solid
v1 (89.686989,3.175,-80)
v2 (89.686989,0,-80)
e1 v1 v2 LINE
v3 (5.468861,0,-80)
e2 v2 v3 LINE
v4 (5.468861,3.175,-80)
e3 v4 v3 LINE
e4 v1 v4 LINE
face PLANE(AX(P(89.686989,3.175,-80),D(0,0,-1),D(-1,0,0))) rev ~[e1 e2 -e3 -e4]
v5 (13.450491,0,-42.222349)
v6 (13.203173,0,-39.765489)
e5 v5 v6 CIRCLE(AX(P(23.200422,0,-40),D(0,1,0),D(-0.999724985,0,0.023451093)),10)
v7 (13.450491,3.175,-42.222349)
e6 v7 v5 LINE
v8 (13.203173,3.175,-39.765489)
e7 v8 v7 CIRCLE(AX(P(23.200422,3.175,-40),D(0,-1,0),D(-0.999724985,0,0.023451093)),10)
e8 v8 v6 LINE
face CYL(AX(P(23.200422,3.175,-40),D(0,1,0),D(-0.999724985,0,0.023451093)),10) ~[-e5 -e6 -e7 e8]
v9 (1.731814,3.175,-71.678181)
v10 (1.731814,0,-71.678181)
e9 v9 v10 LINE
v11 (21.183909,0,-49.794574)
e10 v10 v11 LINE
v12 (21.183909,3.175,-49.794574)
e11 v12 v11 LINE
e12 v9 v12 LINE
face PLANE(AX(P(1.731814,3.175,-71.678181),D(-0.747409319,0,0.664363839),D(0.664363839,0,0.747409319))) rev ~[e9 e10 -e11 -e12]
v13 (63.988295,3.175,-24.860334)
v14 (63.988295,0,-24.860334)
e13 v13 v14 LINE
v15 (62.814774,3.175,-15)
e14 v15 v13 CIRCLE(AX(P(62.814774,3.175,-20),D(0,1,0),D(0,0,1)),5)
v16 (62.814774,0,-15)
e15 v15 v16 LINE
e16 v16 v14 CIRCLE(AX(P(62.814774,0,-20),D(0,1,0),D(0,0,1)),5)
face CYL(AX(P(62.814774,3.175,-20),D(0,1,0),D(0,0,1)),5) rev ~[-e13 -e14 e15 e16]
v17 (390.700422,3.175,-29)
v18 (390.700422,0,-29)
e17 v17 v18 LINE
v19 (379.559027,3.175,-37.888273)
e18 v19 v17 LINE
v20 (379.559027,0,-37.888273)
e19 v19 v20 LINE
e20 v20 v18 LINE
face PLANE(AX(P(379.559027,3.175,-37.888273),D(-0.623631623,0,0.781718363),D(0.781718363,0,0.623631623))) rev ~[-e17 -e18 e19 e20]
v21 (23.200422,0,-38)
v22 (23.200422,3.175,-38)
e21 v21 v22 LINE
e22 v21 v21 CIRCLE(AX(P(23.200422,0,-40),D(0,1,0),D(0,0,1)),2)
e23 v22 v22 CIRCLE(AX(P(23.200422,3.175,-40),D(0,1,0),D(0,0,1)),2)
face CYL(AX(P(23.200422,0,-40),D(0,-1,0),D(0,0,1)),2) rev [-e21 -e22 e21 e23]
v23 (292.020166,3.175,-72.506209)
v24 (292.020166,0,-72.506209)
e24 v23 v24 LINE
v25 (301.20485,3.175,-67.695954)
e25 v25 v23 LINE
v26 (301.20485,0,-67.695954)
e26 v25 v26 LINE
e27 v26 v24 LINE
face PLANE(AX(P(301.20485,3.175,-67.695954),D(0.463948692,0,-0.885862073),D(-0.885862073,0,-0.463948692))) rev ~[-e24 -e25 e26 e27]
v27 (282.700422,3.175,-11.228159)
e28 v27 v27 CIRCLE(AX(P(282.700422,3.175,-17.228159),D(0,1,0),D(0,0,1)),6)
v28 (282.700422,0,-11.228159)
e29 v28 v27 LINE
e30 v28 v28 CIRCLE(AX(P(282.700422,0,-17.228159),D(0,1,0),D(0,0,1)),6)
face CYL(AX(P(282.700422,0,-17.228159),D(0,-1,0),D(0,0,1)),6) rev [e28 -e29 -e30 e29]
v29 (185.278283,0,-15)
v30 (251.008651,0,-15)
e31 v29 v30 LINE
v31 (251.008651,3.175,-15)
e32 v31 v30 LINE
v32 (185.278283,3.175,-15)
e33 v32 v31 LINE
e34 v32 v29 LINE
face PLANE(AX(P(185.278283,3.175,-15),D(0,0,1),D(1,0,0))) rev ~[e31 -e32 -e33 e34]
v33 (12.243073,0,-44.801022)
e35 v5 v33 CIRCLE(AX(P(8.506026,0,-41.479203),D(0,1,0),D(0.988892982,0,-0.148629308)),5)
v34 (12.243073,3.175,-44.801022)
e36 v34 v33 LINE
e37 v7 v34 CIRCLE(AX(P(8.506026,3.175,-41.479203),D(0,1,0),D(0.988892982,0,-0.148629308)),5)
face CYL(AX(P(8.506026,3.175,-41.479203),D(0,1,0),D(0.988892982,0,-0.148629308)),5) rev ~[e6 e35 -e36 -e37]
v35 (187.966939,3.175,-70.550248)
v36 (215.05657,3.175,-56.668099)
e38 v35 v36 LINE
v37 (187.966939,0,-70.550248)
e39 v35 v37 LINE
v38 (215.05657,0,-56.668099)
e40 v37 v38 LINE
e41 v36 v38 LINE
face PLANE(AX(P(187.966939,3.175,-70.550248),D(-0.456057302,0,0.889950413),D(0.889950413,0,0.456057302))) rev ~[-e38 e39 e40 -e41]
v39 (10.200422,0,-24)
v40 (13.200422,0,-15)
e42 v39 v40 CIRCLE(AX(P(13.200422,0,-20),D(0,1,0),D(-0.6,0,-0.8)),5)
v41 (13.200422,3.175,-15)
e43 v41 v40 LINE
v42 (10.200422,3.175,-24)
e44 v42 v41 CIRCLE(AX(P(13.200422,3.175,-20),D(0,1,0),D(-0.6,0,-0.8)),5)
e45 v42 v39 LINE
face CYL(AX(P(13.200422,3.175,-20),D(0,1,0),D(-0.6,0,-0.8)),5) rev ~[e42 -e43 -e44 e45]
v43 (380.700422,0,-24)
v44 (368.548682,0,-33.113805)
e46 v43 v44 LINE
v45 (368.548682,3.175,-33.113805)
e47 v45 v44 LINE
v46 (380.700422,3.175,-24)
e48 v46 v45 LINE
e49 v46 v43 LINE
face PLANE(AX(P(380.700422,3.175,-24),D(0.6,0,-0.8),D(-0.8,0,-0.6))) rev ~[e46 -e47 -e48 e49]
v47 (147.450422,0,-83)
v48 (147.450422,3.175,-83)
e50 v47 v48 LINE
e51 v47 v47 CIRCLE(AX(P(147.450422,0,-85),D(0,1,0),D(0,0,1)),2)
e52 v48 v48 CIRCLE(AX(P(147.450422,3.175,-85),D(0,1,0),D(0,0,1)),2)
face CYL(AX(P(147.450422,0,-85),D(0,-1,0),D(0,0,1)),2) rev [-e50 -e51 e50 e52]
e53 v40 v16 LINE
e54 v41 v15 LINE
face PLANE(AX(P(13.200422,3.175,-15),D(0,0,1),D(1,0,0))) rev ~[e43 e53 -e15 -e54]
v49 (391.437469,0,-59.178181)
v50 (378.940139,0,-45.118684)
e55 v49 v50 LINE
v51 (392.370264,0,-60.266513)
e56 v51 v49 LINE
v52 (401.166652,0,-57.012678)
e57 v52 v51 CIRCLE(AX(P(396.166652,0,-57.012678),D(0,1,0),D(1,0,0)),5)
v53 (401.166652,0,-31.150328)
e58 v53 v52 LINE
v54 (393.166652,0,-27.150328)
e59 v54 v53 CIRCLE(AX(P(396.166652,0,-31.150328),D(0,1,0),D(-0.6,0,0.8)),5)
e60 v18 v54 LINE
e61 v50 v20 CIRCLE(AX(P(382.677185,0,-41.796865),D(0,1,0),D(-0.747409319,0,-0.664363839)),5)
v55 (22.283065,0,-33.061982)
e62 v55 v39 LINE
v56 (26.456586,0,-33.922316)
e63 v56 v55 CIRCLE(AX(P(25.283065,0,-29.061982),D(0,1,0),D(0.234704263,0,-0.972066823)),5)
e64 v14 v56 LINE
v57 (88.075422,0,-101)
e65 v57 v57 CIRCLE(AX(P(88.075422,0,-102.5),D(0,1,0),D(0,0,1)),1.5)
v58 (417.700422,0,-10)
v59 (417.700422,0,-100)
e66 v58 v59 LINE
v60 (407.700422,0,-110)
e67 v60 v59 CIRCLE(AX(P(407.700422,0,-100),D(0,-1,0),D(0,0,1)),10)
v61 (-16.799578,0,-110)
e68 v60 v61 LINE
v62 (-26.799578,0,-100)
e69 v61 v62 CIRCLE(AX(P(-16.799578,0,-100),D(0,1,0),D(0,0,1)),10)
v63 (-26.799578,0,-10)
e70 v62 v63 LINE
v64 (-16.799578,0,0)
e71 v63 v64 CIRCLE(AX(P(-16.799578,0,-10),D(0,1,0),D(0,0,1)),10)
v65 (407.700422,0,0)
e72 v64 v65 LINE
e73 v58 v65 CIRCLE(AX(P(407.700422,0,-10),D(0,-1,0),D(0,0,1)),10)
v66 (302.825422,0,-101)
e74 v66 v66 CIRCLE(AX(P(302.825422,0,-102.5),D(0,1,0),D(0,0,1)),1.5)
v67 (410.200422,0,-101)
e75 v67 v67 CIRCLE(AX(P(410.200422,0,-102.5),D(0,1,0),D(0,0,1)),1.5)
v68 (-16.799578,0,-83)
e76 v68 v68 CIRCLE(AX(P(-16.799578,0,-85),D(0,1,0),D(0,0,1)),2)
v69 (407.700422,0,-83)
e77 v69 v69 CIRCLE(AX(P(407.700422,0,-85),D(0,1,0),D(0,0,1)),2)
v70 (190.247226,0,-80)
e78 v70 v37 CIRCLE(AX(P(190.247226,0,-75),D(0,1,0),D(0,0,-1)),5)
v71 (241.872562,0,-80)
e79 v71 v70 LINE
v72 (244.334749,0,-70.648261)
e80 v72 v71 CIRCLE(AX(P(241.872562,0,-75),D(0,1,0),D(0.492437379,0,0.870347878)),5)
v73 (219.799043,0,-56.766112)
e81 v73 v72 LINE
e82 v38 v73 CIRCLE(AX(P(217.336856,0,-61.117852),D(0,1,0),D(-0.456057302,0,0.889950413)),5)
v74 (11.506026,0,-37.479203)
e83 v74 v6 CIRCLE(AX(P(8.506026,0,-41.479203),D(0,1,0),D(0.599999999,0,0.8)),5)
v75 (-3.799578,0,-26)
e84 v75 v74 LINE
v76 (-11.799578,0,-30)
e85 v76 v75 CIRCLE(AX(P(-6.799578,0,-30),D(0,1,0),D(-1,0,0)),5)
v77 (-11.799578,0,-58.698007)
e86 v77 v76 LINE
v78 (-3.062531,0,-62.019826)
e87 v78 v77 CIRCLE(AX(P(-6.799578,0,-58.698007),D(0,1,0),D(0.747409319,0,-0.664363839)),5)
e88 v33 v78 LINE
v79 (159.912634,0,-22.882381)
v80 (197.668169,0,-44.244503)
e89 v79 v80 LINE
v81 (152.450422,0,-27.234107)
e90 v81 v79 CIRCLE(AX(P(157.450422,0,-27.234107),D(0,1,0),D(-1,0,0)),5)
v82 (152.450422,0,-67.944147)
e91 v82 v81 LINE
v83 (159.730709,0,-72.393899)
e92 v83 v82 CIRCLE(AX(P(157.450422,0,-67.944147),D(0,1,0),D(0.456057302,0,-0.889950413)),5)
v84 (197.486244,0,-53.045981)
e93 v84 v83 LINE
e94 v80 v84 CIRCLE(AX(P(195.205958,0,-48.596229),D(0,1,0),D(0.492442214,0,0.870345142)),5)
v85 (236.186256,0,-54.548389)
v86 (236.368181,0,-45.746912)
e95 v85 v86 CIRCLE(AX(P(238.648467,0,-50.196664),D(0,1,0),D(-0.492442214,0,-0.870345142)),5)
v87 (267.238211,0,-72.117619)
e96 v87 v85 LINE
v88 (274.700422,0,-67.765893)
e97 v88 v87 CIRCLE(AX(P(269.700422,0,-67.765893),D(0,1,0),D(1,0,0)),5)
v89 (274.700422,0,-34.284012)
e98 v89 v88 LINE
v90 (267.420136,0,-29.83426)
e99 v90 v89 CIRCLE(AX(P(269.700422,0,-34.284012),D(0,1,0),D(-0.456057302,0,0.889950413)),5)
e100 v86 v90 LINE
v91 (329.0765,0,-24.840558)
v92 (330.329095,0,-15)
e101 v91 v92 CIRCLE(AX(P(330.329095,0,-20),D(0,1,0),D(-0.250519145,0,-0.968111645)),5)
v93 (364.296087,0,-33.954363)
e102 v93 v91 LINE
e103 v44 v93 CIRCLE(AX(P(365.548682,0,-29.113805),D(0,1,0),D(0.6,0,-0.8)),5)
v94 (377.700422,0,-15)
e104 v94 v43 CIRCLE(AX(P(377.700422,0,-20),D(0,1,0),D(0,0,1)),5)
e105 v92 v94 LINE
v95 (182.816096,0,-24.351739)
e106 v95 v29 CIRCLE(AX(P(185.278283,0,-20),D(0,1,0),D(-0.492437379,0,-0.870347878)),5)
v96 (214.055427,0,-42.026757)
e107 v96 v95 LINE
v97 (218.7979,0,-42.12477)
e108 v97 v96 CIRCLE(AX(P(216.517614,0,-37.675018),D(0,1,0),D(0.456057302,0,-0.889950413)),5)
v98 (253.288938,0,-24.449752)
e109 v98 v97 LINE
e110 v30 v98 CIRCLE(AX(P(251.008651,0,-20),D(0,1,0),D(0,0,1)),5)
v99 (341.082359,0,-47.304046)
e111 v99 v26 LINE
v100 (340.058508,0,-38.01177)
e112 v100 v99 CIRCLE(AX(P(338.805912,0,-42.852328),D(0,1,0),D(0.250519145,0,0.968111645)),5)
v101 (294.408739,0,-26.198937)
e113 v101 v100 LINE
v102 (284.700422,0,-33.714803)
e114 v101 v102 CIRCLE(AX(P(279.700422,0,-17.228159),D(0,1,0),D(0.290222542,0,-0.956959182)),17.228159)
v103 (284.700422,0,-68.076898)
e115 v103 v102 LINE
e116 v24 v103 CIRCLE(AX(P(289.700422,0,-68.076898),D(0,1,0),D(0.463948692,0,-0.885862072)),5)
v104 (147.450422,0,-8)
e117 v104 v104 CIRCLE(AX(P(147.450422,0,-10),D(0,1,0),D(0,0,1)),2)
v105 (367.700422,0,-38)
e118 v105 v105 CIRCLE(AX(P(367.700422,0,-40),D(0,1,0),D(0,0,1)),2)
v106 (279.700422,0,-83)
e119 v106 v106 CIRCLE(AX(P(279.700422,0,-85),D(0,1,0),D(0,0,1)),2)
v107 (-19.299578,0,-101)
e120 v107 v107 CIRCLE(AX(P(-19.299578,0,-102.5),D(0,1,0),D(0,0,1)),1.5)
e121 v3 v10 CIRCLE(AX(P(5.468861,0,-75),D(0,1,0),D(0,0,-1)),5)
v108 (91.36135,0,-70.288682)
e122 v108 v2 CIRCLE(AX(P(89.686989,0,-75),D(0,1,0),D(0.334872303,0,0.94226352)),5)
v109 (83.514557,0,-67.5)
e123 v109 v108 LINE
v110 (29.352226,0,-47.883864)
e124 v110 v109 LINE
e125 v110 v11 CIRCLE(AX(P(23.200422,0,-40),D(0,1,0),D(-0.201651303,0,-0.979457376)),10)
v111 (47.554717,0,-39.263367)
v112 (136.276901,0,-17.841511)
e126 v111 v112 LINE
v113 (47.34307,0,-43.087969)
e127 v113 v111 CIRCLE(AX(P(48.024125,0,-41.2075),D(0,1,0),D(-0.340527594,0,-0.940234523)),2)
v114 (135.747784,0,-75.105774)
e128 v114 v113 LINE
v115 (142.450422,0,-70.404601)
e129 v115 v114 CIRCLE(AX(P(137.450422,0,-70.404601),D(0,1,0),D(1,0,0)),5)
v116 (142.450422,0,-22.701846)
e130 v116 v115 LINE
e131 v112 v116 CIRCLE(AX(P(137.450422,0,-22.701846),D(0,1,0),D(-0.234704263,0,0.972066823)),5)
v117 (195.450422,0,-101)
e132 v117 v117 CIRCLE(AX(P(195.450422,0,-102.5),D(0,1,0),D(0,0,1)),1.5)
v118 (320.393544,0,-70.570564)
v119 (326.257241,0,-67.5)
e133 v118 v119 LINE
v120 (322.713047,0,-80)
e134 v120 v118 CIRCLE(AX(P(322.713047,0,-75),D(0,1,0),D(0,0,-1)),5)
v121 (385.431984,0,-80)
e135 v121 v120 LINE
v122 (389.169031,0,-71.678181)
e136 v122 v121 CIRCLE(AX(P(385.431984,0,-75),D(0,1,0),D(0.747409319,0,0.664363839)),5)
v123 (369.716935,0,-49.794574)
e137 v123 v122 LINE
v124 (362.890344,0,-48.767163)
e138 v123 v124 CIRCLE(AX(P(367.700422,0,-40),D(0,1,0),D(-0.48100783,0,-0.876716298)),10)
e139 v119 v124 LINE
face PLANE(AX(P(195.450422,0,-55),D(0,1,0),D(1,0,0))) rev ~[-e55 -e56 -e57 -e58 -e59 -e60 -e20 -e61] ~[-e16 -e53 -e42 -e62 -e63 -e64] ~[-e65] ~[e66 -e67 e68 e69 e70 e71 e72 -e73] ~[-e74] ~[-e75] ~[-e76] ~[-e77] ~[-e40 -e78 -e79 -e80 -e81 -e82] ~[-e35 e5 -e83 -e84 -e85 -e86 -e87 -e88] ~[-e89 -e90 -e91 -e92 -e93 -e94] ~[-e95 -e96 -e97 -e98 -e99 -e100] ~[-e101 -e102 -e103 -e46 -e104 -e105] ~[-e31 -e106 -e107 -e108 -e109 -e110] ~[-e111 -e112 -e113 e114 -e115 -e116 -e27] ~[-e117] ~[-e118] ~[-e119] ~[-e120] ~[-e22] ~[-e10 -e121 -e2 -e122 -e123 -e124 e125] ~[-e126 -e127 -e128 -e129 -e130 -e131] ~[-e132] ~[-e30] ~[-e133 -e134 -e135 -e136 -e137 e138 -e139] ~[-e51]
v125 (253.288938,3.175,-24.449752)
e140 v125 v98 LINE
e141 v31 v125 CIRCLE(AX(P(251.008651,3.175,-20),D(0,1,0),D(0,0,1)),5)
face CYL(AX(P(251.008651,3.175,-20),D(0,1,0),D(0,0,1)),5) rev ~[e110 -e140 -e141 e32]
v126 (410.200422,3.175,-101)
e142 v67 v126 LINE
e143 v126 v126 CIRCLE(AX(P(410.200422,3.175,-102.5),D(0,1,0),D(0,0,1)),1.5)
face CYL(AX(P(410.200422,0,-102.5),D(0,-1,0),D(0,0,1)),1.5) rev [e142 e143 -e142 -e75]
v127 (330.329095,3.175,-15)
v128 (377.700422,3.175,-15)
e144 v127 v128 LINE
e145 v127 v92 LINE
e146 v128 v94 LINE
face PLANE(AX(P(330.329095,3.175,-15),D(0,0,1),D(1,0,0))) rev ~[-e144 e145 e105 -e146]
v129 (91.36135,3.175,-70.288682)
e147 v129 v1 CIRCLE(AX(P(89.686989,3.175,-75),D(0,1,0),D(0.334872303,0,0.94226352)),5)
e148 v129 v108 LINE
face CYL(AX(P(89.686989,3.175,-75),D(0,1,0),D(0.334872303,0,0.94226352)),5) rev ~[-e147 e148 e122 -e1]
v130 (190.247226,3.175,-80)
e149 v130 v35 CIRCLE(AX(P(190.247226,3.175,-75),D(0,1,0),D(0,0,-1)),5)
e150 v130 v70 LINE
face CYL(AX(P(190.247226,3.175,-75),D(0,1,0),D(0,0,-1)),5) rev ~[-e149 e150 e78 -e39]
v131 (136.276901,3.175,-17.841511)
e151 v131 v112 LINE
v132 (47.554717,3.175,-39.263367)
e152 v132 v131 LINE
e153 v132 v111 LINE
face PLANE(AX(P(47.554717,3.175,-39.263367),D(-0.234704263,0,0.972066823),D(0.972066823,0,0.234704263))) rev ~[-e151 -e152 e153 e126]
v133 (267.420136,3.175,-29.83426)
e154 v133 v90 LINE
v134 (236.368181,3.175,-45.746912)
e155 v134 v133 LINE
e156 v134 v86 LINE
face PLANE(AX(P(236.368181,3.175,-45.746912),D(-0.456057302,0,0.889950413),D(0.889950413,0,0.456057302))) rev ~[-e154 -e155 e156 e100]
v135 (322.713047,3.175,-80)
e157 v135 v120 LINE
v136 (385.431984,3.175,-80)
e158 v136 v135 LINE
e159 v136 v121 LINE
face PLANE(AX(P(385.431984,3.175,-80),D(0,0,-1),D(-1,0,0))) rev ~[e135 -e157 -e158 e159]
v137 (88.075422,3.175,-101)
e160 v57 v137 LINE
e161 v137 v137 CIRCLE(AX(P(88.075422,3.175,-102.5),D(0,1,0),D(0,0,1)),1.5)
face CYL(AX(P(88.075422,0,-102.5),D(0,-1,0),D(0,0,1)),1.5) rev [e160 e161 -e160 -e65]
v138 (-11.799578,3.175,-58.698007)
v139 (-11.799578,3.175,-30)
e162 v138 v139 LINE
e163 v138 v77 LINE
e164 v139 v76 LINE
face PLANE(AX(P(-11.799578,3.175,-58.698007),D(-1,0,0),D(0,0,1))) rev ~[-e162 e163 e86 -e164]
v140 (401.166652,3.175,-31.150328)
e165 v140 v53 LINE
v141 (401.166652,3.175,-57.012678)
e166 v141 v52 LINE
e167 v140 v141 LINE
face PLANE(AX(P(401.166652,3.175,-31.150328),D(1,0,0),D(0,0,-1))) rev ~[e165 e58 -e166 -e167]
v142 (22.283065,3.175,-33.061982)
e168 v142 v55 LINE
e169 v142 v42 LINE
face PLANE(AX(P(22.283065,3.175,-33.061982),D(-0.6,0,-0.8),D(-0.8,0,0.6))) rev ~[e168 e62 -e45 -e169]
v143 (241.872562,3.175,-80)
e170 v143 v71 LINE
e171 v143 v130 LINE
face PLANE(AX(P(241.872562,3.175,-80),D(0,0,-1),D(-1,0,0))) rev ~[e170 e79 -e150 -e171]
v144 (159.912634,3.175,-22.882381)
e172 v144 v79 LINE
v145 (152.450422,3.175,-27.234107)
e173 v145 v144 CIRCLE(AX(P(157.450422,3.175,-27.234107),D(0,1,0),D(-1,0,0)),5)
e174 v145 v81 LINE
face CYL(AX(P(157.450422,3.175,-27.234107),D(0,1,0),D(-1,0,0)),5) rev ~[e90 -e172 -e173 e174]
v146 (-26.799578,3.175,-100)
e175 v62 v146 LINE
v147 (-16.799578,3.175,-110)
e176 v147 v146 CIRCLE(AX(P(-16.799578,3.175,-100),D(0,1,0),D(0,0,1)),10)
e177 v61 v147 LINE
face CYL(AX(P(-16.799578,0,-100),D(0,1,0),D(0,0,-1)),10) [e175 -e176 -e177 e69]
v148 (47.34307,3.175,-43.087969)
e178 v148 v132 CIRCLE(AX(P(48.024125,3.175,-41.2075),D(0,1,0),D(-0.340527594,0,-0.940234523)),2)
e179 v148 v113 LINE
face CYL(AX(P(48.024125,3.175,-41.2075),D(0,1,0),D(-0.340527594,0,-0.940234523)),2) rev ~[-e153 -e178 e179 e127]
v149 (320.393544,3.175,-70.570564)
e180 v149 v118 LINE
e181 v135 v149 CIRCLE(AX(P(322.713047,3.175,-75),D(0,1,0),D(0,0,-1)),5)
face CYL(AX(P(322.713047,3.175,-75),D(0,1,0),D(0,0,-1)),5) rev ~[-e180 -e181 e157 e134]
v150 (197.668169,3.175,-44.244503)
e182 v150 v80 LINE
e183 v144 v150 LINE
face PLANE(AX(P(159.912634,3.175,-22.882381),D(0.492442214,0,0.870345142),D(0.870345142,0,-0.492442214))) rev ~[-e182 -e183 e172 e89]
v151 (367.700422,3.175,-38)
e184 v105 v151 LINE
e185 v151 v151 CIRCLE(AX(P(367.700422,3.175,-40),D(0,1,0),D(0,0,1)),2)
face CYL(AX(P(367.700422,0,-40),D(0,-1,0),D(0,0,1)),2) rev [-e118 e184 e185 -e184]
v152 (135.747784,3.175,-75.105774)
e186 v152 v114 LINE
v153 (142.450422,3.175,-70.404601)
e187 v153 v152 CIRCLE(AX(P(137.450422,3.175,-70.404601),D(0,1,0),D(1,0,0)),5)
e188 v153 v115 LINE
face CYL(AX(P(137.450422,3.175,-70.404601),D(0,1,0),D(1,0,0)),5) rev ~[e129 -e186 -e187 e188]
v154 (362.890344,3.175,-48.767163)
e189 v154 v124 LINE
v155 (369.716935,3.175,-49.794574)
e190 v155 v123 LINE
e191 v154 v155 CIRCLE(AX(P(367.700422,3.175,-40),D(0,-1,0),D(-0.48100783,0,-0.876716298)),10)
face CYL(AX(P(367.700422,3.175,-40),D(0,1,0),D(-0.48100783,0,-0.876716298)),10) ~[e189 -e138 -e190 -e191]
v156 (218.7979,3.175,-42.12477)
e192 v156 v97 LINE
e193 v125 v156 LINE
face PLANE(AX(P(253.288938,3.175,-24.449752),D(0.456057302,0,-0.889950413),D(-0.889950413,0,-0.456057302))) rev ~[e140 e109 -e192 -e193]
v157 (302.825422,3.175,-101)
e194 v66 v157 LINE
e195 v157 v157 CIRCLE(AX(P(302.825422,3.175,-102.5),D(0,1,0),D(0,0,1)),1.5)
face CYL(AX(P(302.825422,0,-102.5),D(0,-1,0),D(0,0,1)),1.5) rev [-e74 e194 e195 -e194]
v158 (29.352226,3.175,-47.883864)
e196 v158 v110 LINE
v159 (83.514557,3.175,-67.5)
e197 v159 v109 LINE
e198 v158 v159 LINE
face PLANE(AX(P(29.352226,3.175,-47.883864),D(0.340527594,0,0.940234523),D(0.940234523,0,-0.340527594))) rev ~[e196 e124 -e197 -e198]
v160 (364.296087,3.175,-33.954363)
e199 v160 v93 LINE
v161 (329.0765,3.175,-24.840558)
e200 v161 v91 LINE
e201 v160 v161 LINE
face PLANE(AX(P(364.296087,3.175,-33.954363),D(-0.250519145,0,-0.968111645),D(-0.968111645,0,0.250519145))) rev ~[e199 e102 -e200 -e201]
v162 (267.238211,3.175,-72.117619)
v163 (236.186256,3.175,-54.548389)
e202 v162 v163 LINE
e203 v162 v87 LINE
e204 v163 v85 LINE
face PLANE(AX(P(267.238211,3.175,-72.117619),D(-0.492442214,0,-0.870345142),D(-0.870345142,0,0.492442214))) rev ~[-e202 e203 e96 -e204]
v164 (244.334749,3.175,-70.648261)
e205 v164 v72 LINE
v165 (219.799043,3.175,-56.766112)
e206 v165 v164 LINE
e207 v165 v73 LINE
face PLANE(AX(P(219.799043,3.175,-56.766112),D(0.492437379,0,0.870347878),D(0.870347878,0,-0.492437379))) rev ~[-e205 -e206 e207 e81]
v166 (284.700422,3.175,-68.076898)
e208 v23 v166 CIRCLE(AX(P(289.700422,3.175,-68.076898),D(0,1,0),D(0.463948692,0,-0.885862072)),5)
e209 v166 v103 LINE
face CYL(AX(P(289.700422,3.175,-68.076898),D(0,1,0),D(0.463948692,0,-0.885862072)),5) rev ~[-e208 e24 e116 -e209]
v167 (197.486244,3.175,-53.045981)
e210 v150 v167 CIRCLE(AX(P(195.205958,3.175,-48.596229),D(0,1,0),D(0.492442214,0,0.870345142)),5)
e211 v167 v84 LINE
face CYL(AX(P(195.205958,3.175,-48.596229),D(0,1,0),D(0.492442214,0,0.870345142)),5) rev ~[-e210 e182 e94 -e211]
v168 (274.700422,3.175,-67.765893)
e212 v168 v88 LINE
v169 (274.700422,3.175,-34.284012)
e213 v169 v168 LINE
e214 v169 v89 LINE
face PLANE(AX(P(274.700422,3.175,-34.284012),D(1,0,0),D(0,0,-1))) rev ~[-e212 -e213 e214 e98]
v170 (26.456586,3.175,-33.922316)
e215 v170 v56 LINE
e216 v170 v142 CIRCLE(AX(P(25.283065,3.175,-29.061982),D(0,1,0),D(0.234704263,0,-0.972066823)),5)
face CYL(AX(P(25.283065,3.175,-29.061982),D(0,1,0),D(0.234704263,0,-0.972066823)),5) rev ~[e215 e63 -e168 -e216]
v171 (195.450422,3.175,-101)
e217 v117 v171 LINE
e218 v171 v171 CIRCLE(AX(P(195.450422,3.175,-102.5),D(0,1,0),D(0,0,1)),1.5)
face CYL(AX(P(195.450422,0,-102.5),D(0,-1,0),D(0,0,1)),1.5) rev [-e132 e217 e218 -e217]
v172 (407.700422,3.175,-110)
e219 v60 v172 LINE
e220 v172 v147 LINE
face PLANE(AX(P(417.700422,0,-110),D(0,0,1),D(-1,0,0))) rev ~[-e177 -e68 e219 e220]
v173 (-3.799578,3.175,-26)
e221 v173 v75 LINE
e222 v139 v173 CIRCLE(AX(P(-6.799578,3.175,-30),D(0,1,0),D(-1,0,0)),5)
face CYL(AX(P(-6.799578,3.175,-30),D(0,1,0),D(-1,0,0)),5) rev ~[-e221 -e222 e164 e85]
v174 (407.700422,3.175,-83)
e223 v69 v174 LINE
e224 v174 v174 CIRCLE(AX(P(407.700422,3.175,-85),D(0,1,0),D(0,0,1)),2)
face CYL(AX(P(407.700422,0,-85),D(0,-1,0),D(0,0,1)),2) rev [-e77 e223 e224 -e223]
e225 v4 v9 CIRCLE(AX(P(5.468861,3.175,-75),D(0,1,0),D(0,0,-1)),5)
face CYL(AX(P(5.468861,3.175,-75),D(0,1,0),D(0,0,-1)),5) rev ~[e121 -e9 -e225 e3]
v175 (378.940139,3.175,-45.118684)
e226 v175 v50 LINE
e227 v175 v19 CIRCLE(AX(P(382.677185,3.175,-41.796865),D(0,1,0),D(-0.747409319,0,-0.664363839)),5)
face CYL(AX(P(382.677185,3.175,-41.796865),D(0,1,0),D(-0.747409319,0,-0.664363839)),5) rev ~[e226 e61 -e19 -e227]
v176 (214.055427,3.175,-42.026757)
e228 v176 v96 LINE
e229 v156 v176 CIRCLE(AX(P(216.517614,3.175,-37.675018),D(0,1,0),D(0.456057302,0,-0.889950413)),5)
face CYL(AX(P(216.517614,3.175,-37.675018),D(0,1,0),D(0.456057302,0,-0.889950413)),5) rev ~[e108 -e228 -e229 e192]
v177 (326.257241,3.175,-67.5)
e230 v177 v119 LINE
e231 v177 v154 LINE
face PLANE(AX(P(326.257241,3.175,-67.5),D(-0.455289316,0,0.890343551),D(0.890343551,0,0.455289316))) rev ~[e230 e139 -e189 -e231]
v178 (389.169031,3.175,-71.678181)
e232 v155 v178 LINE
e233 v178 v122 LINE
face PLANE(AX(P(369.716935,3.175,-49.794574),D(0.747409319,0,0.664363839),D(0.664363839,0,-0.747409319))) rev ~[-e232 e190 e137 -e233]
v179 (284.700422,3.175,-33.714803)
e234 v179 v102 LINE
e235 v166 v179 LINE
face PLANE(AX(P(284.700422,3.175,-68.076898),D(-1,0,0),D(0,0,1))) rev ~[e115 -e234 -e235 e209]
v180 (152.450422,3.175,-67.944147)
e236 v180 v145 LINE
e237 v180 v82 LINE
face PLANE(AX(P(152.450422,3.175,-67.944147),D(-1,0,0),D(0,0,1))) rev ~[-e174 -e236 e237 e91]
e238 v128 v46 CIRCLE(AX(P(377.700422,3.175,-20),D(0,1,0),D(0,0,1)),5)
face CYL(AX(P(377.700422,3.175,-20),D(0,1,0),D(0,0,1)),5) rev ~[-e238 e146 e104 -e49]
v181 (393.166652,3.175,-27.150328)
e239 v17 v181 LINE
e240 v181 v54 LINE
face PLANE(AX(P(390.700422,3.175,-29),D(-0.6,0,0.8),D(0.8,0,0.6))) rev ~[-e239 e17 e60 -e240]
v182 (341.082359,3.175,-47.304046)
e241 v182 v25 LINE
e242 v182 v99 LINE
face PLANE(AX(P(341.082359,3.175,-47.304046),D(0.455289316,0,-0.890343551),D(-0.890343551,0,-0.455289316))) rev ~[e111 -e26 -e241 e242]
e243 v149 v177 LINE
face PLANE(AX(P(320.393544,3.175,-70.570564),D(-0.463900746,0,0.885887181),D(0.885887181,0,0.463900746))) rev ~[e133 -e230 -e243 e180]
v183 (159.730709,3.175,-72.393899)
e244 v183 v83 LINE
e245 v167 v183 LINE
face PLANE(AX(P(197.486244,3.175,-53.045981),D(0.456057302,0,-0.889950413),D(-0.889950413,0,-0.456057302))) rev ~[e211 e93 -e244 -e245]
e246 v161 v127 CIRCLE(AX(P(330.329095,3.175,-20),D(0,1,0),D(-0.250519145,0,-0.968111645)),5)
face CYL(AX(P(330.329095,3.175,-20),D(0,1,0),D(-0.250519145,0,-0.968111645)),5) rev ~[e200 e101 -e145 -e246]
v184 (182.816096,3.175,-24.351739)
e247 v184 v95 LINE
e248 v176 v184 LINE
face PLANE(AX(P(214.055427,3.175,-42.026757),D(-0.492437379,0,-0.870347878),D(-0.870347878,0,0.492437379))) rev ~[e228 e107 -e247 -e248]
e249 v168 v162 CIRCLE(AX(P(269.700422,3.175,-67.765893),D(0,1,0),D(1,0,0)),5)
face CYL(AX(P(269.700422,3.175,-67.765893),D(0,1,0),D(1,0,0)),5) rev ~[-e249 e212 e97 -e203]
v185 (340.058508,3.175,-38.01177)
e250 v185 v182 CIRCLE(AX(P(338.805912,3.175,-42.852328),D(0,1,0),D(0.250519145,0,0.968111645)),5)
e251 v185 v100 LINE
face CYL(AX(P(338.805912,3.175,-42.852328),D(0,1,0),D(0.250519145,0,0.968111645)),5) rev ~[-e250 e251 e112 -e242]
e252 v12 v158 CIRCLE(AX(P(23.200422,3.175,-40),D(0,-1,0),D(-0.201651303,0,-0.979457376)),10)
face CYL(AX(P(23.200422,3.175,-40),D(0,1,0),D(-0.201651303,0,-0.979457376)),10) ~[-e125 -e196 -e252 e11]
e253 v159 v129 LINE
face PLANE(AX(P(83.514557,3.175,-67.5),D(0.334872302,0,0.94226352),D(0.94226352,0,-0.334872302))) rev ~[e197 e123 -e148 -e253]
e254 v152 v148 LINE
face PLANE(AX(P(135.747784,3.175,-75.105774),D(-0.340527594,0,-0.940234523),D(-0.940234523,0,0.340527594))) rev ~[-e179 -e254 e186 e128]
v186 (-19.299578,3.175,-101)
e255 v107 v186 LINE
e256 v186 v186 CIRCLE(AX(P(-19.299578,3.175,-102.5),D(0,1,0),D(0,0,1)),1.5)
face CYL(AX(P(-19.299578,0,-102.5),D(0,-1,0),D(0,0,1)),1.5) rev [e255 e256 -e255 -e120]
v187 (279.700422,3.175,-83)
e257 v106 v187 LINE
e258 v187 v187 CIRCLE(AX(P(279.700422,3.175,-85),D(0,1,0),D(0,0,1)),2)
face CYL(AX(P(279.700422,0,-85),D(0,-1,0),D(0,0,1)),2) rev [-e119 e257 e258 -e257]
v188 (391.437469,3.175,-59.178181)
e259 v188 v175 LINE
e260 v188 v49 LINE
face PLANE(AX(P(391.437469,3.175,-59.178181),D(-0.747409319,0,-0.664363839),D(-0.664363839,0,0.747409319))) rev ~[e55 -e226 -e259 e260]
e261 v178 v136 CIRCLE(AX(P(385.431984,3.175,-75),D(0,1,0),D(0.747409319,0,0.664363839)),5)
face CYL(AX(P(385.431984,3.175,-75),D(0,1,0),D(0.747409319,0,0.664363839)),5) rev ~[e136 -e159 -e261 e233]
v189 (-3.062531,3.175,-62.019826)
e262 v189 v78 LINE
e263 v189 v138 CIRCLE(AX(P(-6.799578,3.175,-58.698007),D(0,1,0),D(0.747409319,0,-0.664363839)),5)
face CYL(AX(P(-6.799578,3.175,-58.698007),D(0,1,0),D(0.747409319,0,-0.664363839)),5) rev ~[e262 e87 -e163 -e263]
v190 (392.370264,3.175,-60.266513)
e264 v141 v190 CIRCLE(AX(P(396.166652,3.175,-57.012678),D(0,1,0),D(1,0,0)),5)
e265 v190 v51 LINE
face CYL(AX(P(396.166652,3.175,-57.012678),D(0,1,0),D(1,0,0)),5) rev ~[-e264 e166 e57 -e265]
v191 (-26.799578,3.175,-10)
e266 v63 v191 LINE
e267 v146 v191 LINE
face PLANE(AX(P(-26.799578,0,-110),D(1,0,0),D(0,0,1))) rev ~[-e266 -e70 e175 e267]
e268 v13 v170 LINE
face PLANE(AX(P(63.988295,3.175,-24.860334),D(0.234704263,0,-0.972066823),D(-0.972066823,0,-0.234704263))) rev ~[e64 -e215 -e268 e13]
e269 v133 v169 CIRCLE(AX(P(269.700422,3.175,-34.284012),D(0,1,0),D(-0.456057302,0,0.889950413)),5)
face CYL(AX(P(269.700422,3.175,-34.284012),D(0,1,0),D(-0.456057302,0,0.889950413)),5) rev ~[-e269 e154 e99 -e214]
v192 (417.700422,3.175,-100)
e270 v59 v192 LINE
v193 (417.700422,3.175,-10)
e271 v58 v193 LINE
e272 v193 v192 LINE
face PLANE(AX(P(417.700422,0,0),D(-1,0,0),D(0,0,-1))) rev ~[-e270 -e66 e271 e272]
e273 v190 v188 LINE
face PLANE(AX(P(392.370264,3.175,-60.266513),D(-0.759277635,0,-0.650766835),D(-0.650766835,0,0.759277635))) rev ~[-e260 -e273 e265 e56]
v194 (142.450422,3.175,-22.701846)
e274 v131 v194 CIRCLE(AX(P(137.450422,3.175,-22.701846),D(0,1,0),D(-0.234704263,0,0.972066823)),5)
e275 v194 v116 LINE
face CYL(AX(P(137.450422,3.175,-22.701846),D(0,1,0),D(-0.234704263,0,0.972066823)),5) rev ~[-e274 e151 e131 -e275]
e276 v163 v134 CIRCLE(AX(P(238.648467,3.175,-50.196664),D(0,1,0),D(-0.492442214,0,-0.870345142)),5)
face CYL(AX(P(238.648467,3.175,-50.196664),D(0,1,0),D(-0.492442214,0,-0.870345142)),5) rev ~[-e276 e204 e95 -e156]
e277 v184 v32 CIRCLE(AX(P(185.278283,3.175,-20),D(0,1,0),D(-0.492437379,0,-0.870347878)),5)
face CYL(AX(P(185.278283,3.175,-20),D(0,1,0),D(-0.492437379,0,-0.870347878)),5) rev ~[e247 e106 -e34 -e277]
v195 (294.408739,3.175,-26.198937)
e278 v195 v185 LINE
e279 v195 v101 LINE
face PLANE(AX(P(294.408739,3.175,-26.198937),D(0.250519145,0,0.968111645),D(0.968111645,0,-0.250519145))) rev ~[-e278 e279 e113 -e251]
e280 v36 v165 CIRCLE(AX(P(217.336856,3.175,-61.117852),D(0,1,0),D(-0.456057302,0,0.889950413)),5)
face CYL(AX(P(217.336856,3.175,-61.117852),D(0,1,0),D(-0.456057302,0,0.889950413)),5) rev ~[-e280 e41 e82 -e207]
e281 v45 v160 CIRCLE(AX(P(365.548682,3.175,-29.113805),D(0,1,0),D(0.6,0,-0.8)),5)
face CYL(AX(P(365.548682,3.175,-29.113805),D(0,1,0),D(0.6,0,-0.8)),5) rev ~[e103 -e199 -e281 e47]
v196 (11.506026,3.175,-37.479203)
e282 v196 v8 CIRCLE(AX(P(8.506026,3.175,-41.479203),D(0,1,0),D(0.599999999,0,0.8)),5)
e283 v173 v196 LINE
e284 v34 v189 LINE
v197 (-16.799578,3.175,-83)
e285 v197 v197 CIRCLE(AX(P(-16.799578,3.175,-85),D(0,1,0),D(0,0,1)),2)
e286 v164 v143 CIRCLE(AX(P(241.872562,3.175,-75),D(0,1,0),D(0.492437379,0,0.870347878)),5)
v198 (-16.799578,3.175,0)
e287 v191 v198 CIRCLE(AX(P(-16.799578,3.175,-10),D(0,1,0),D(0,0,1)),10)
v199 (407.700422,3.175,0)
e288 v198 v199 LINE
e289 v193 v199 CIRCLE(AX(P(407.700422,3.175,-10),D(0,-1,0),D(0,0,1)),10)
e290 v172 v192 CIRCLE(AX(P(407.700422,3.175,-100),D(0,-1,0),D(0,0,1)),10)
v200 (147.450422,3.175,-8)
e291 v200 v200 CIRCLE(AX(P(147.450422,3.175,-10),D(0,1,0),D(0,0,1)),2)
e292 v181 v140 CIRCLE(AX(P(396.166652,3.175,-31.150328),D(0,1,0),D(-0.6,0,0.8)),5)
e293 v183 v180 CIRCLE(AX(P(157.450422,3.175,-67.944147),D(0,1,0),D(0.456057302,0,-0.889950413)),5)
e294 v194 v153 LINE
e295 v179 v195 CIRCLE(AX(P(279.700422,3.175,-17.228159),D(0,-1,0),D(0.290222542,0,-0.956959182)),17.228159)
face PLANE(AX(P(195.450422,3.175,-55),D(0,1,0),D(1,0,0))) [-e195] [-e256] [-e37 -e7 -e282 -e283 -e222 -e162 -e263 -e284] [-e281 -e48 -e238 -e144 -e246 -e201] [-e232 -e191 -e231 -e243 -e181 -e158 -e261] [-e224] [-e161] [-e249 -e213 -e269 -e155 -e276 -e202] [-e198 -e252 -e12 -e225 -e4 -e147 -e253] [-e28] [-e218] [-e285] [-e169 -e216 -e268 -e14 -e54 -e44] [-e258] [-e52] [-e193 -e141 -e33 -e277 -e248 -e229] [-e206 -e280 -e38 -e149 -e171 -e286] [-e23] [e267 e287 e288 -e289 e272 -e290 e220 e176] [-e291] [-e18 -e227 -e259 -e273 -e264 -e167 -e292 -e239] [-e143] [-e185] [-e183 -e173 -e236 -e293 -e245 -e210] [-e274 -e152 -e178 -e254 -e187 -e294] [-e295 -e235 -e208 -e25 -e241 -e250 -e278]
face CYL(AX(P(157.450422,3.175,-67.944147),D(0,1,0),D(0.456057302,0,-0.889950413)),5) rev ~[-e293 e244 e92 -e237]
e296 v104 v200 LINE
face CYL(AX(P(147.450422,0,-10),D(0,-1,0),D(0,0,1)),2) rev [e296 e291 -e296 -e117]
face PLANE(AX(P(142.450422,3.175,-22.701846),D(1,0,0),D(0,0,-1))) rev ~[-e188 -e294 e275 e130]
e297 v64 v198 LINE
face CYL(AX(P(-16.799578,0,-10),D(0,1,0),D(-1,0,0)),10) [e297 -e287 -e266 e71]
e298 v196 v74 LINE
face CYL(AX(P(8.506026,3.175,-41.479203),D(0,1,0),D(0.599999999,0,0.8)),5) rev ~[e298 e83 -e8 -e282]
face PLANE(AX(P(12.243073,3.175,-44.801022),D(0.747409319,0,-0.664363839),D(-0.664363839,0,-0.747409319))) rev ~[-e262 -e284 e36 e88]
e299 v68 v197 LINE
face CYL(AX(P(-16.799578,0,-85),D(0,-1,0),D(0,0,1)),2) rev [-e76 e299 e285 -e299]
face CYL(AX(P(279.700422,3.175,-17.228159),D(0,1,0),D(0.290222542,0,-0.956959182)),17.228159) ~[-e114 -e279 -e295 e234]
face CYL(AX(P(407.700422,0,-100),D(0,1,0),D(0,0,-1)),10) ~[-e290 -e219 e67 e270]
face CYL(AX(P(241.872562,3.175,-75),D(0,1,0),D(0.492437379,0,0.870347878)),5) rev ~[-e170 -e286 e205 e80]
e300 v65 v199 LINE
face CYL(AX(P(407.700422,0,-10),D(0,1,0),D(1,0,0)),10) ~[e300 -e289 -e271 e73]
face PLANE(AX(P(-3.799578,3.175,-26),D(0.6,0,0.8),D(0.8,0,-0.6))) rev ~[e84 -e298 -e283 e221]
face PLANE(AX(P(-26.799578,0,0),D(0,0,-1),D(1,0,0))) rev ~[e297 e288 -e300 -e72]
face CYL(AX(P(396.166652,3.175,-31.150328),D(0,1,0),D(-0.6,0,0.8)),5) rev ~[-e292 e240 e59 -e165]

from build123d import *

# Parameters (mm, degrees)
SKETCH1_R           = 2
SKETCH1_R_2         = 6
SKETCH1_R_3         = 1.5
BOSS_EXTRUDE1_DEPTH = 3.175
FILLET1_R           = 10
CUT_EXTRUDE1_DEPTH  = 10


with BuildPart() as part:
    # Sketch1 → Boss-Extrude1 (new body)
    with BuildSketch(Plane(origin=(0, 0, 0), x_dir=(1, 0, 0), z_dir=(0, 1, 0))):
        Polygon((417.700422465, 110), (-26.799577535, 110), (-26.799577535, 0), (417.700422465, 0), (417.700422465, 17.22815868), align=None)
        with Locations(Location((147.450422465, 10, 0), (0, 0, 270))):
            Circle(SKETCH1_R, mode=Mode.SUBTRACT)
        with Locations(Location((23.200422465, 40, 0), (0, 0, 270))):
            Circle(SKETCH1_R, mode=Mode.SUBTRACT)
        with Locations(Location((282.700422465, 17.22815868, 0), (0, 0, 270))):
            Circle(SKETCH1_R_2, mode=Mode.SUBTRACT)
        with Locations(Location((367.700422465, 40, 0), (0, 0, 270))):
            Circle(SKETCH1_R, mode=Mode.SUBTRACT)
        with Locations(Location((-16.799577535, 85, 0), (0, 0, 270))):
            Circle(SKETCH1_R, mode=Mode.SUBTRACT)
        with Locations(Location((-19.299577535, 102.5, 0), (0, 0, 270))):
            Circle(SKETCH1_R_3, mode=Mode.SUBTRACT)
        with Locations(Location((88.075422465, 102.5, 0), (0, 0, 270))):
            Circle(SKETCH1_R_3, mode=Mode.SUBTRACT)
        with Locations(Location((147.450422465, 85, 0), (0, 0, 270))):
            Circle(SKETCH1_R, mode=Mode.SUBTRACT)
        with Locations(Location((279.700422465, 85, 0), (0, 0, 270))):
            Circle(SKETCH1_R, mode=Mode.SUBTRACT)
        with Locations(Location((195.450422465, 102.5, 0), (0, 0, 270))):
            Circle(SKETCH1_R_3, mode=Mode.SUBTRACT)
        with Locations(Location((302.825422465, 102.5, 0), (0, 0, 270))):
            Circle(SKETCH1_R_3, mode=Mode.SUBTRACT)
        with Locations(Location((407.700422465, 85, 0), (0, 0, 270))):
            Circle(SKETCH1_R, mode=Mode.SUBTRACT)
        with Locations(Location((410.200422465, 102.5, 0), (0, 0, 270))):
            Circle(SKETCH1_R_3, mode=Mode.SUBTRACT)
    extrude(amount=BOSS_EXTRUDE1_DEPTH)

    # Fillet1
    fillet1_edges = [part.edges().sort_by_distance(p)[0] for p in [
        (-26.799577535, 1.5875, -110),
        (417.700422465, 1.5875, -110),
        (417.700422465, 1.5875, 0),
        (-26.799577535, 1.5875, 0),
    ]]
    fillet(fillet1_edges, radius=FILLET1_R)

    # Sketch2 → Cut-Extrude1 (cut)
    with BuildSketch(Plane(origin=(0, 3.175, 0), x_dir=(1, 0, 0), z_dir=(0, 1, 0))):
        with BuildLine():
            Line((63.988295206, 24.860334116), (26.456586442, 33.922316112))
            ThreePointArc((26.456586442, 33.922316112), (24.273585164, 33.959016834), (22.283065126, 33.061981996))
            Line((22.283065126, 33.061981996), (10.200422465, 24))
            ThreePointArc((10.200422465, 24), (8.457005975, 18.41886117), (13.200422465, 15))
            Line((13.200422465, 15), (62.81477389, 15))
            ThreePointArc((62.81477389, 15), (67.779734645, 19.409098393), (63.988295206, 24.860334116))
        make_face()
        with BuildLine():
            Line((1.731814293, 71.678180806), (21.183909441, 49.794573764))
            ThreePointArc((21.183909441, 49.794573764), (25.478109933, 49.737152551), (29.35222616, 47.883863983))
            Line((29.35222616, 47.883863983), (83.514557274, 67.5))
            Line((83.514557274, 67.5), (91.361350439, 70.2886824))
            ThreePointArc((91.361350439, 70.2886824), (94.61428981, 75.849532813), (89.686988926, 80))
            Line((89.686988926, 80), (5.468860886, 80))
            ThreePointArc((5.468860886, 80), (0.907660607, 77.048280258), (1.731814293, 71.678180806))
        make_face()
        with BuildLine():
            ThreePointArc((13.203172612, 39.765489068), (13.250707237, 41.001582191), (13.450490987, 42.222349247))
            ThreePointArc((13.450490987, 42.222349247), (13.034220935, 43.599450655), (12.243072673, 44.801021905))
            Line((12.243072673, 44.801021905), (-3.062530941, 62.019825971))
            ThreePointArc((-3.062530941, 62.019825971), (-8.576480322, 63.371615284), (-11.799577535, 58.698006777))
            Line((-11.799577535, 58.698006777), (-11.799577535, 30))
            ThreePointArc((-11.799577535, 30), (-9.035645512, 25.527864045), (-3.799577535, 26))
            Line((-3.799577535, 26), (11.506026079, 37.479202711))
            ThreePointArc((11.506026079, 37.479202711), (12.520785414, 38.498983342), (13.203172612, 39.765489068))
        make_face()
        with BuildLine():
            Line((47.554716749, 39.2633668), (136.276901149, 17.841511412))
            ThreePointArc((136.276901149, 17.841511412), (140.543349349, 18.773257577), (142.450422465, 22.701845528))
            Line((142.450422465, 22.701845528), (142.450422465, 70.404600889))
            ThreePointArc((142.450422465, 70.404600889), (140.32155553, 74.498082894), (135.747784496, 75.105773503))
            Line((135.747784496, 75.105773503), (47.343070087, 43.087969492))
            ThreePointArc((47.343070087, 43.087969492), (46.027180577, 41.096993104), (47.554716749, 39.2633668))
        make_face()
        with BuildLine():
            Line((152.450422465, 67.944146827), (152.450422465, 27.234106769))
            ThreePointArc((152.450422465, 27.234106769), (154.931598866, 22.91490225), (159.912633536, 22.882381061))
            Line((159.912633536, 22.882381061), (197.668168627, 44.244503287))
            ThreePointArc((197.668168627, 44.244503287), (200.204889799, 48.699555799), (197.486244065, 53.045981061))
            Line((197.486244065, 53.045981061), (159.730708974, 72.393898891))
            ThreePointArc((159.730708974, 72.393898891), (154.842878846, 72.210376576), (152.450422465, 67.944146827))
        make_face()
        with BuildLine():
            Line((274.700422465, 34.284011853), (274.700422465, 67.765893231))
            ThreePointArc((274.700422465, 67.765893231), (272.219246064, 72.08509775), (267.238211394, 72.117618939))
            Line((267.238211394, 72.117618939), (236.186256017, 54.548389301))
            ThreePointArc((236.186256017, 54.548389301), (233.649534845, 50.093336789), (236.368180579, 45.746911528))
            Line((236.368180579, 45.746911528), (267.420135956, 29.834259789))
            ThreePointArc((267.420135956, 29.834259789), (272.307966085, 30.017782104), (274.700422465, 34.284011853))
        make_face()
        with BuildLine():
            Line((284.700422465, 68.076898184), (284.700422465, 33.714803321))
            ThreePointArc((284.700422465, 33.714803321), (290.246819989, 30.85104203), (294.408739409, 26.198937028))
            Line((294.408739409, 26.198937028), (340.058508189, 38.011769879))
            ThreePointArc((340.058508189, 38.011769879), (343.775835313, 42.304727092), (341.082359043, 47.304045862))
            Line((341.082359043, 47.304045862), (301.204849524, 67.695954138))
            Line((301.204849524, 67.695954138), (292.020165923, 72.506208546))
            ThreePointArc((292.020165923, 72.506208546), (287.111862758, 72.354673148), (284.700422465, 68.076898184))
        make_face()
        with BuildLine():
            Line((320.393543744, 70.570564095), (326.257240647, 67.5))
            Line((326.257240647, 67.5), (362.890344157, 48.767162978))
            ThreePointArc((362.890344157, 48.767162978), (366.212170141, 49.888635144), (369.716935489, 49.794573764))
            Line((369.716935489, 49.794573764), (389.169030638, 71.678180806))
            ThreePointArc((389.169030638, 71.678180806), (389.993184323, 77.048280258), (385.431984044, 80))
            Line((385.431984044, 80), (322.713047476, 80))
            ThreePointArc((322.713047476, 80), (317.857783347, 76.194324176), (320.393543744, 70.570564095))
        make_face()
        with BuildLine():
            Line((379.559027243, 37.88827322), (390.700422465, 29))
            Line((390.700422465, 29), (393.166651981, 27.150327863))
            ThreePointArc((393.166651981, 27.150327863), (398.402719958, 26.678191908), (401.166651981, 31.150327863))
            Line((401.166651981, 31.150327863), (401.166651981, 57.012678354))
            ThreePointArc((401.166651981, 57.012678354), (397.901307442, 61.70213146), (392.370263808, 60.266512529))
            Line((392.370263808, 60.266512529), (391.437469059, 59.178180806))
            Line((391.437469059, 59.178180806), (378.940138766, 45.118684227))
            ThreePointArc((378.940138766, 45.118684227), (377.695401669, 41.370448261), (379.559027243, 37.88827322))
        make_face()
        with BuildLine():
            Line((364.296086649, 33.954363295), (329.076499674, 24.840558227))
            ThreePointArc((329.076499674, 24.840558227), (325.369116008, 19.368648725), (330.329095399, 15))
            Line((330.329095399, 15), (377.700422465, 15))
            ThreePointArc((377.700422465, 15), (382.443838955, 18.41886117), (380.700422465, 24))
            Line((380.700422465, 24), (368.548682375, 33.113805068))
            ThreePointArc((368.548682375, 33.113805068), (366.518213167, 34.018905479), (364.296086649, 33.954363295))
        make_face()
        with BuildLine():
            Line((185.278283157, 15), (251.008650991, 15))
            ThreePointArc((251.008650991, 15), (255.869142752, 18.82713179), (253.2889375, 24.449752065))
            Line((253.2889375, 24.449752065), (218.797900418, 42.124769774))
            ThreePointArc((218.797900418, 42.124769774), (216.414300992, 42.67395024), (214.055427015, 42.026757098))
            Line((214.055427015, 42.026757098), (182.816096263, 24.351739388))
            ThreePointArc((182.816096263, 24.351739388), (180.443063568, 18.726951874), (185.278283157, 15))
        make_face()
        with BuildLine():
            Line((241.872561773, 80), (190.247225864, 80))
            ThreePointArc((190.247225864, 80), (185.386734103, 76.17286821), (187.966939355, 70.550247935))
            Line((187.966939355, 70.550247935), (215.056569824, 56.668099447))
            ThreePointArc((215.056569824, 56.668099447), (217.44016925, 56.118918981), (219.799043227, 56.766112124))
            Line((219.799043227, 56.766112124), (244.334748667, 70.648260612))
            ThreePointArc((244.334748667, 70.648260612), (246.707781362, 76.273048126), (241.872561773, 80))
        make_face()
    extrude(amount=-CUT_EXTRUDE1_DEPTH, mode=Mode.SUBTRACT)


solid = part.part
